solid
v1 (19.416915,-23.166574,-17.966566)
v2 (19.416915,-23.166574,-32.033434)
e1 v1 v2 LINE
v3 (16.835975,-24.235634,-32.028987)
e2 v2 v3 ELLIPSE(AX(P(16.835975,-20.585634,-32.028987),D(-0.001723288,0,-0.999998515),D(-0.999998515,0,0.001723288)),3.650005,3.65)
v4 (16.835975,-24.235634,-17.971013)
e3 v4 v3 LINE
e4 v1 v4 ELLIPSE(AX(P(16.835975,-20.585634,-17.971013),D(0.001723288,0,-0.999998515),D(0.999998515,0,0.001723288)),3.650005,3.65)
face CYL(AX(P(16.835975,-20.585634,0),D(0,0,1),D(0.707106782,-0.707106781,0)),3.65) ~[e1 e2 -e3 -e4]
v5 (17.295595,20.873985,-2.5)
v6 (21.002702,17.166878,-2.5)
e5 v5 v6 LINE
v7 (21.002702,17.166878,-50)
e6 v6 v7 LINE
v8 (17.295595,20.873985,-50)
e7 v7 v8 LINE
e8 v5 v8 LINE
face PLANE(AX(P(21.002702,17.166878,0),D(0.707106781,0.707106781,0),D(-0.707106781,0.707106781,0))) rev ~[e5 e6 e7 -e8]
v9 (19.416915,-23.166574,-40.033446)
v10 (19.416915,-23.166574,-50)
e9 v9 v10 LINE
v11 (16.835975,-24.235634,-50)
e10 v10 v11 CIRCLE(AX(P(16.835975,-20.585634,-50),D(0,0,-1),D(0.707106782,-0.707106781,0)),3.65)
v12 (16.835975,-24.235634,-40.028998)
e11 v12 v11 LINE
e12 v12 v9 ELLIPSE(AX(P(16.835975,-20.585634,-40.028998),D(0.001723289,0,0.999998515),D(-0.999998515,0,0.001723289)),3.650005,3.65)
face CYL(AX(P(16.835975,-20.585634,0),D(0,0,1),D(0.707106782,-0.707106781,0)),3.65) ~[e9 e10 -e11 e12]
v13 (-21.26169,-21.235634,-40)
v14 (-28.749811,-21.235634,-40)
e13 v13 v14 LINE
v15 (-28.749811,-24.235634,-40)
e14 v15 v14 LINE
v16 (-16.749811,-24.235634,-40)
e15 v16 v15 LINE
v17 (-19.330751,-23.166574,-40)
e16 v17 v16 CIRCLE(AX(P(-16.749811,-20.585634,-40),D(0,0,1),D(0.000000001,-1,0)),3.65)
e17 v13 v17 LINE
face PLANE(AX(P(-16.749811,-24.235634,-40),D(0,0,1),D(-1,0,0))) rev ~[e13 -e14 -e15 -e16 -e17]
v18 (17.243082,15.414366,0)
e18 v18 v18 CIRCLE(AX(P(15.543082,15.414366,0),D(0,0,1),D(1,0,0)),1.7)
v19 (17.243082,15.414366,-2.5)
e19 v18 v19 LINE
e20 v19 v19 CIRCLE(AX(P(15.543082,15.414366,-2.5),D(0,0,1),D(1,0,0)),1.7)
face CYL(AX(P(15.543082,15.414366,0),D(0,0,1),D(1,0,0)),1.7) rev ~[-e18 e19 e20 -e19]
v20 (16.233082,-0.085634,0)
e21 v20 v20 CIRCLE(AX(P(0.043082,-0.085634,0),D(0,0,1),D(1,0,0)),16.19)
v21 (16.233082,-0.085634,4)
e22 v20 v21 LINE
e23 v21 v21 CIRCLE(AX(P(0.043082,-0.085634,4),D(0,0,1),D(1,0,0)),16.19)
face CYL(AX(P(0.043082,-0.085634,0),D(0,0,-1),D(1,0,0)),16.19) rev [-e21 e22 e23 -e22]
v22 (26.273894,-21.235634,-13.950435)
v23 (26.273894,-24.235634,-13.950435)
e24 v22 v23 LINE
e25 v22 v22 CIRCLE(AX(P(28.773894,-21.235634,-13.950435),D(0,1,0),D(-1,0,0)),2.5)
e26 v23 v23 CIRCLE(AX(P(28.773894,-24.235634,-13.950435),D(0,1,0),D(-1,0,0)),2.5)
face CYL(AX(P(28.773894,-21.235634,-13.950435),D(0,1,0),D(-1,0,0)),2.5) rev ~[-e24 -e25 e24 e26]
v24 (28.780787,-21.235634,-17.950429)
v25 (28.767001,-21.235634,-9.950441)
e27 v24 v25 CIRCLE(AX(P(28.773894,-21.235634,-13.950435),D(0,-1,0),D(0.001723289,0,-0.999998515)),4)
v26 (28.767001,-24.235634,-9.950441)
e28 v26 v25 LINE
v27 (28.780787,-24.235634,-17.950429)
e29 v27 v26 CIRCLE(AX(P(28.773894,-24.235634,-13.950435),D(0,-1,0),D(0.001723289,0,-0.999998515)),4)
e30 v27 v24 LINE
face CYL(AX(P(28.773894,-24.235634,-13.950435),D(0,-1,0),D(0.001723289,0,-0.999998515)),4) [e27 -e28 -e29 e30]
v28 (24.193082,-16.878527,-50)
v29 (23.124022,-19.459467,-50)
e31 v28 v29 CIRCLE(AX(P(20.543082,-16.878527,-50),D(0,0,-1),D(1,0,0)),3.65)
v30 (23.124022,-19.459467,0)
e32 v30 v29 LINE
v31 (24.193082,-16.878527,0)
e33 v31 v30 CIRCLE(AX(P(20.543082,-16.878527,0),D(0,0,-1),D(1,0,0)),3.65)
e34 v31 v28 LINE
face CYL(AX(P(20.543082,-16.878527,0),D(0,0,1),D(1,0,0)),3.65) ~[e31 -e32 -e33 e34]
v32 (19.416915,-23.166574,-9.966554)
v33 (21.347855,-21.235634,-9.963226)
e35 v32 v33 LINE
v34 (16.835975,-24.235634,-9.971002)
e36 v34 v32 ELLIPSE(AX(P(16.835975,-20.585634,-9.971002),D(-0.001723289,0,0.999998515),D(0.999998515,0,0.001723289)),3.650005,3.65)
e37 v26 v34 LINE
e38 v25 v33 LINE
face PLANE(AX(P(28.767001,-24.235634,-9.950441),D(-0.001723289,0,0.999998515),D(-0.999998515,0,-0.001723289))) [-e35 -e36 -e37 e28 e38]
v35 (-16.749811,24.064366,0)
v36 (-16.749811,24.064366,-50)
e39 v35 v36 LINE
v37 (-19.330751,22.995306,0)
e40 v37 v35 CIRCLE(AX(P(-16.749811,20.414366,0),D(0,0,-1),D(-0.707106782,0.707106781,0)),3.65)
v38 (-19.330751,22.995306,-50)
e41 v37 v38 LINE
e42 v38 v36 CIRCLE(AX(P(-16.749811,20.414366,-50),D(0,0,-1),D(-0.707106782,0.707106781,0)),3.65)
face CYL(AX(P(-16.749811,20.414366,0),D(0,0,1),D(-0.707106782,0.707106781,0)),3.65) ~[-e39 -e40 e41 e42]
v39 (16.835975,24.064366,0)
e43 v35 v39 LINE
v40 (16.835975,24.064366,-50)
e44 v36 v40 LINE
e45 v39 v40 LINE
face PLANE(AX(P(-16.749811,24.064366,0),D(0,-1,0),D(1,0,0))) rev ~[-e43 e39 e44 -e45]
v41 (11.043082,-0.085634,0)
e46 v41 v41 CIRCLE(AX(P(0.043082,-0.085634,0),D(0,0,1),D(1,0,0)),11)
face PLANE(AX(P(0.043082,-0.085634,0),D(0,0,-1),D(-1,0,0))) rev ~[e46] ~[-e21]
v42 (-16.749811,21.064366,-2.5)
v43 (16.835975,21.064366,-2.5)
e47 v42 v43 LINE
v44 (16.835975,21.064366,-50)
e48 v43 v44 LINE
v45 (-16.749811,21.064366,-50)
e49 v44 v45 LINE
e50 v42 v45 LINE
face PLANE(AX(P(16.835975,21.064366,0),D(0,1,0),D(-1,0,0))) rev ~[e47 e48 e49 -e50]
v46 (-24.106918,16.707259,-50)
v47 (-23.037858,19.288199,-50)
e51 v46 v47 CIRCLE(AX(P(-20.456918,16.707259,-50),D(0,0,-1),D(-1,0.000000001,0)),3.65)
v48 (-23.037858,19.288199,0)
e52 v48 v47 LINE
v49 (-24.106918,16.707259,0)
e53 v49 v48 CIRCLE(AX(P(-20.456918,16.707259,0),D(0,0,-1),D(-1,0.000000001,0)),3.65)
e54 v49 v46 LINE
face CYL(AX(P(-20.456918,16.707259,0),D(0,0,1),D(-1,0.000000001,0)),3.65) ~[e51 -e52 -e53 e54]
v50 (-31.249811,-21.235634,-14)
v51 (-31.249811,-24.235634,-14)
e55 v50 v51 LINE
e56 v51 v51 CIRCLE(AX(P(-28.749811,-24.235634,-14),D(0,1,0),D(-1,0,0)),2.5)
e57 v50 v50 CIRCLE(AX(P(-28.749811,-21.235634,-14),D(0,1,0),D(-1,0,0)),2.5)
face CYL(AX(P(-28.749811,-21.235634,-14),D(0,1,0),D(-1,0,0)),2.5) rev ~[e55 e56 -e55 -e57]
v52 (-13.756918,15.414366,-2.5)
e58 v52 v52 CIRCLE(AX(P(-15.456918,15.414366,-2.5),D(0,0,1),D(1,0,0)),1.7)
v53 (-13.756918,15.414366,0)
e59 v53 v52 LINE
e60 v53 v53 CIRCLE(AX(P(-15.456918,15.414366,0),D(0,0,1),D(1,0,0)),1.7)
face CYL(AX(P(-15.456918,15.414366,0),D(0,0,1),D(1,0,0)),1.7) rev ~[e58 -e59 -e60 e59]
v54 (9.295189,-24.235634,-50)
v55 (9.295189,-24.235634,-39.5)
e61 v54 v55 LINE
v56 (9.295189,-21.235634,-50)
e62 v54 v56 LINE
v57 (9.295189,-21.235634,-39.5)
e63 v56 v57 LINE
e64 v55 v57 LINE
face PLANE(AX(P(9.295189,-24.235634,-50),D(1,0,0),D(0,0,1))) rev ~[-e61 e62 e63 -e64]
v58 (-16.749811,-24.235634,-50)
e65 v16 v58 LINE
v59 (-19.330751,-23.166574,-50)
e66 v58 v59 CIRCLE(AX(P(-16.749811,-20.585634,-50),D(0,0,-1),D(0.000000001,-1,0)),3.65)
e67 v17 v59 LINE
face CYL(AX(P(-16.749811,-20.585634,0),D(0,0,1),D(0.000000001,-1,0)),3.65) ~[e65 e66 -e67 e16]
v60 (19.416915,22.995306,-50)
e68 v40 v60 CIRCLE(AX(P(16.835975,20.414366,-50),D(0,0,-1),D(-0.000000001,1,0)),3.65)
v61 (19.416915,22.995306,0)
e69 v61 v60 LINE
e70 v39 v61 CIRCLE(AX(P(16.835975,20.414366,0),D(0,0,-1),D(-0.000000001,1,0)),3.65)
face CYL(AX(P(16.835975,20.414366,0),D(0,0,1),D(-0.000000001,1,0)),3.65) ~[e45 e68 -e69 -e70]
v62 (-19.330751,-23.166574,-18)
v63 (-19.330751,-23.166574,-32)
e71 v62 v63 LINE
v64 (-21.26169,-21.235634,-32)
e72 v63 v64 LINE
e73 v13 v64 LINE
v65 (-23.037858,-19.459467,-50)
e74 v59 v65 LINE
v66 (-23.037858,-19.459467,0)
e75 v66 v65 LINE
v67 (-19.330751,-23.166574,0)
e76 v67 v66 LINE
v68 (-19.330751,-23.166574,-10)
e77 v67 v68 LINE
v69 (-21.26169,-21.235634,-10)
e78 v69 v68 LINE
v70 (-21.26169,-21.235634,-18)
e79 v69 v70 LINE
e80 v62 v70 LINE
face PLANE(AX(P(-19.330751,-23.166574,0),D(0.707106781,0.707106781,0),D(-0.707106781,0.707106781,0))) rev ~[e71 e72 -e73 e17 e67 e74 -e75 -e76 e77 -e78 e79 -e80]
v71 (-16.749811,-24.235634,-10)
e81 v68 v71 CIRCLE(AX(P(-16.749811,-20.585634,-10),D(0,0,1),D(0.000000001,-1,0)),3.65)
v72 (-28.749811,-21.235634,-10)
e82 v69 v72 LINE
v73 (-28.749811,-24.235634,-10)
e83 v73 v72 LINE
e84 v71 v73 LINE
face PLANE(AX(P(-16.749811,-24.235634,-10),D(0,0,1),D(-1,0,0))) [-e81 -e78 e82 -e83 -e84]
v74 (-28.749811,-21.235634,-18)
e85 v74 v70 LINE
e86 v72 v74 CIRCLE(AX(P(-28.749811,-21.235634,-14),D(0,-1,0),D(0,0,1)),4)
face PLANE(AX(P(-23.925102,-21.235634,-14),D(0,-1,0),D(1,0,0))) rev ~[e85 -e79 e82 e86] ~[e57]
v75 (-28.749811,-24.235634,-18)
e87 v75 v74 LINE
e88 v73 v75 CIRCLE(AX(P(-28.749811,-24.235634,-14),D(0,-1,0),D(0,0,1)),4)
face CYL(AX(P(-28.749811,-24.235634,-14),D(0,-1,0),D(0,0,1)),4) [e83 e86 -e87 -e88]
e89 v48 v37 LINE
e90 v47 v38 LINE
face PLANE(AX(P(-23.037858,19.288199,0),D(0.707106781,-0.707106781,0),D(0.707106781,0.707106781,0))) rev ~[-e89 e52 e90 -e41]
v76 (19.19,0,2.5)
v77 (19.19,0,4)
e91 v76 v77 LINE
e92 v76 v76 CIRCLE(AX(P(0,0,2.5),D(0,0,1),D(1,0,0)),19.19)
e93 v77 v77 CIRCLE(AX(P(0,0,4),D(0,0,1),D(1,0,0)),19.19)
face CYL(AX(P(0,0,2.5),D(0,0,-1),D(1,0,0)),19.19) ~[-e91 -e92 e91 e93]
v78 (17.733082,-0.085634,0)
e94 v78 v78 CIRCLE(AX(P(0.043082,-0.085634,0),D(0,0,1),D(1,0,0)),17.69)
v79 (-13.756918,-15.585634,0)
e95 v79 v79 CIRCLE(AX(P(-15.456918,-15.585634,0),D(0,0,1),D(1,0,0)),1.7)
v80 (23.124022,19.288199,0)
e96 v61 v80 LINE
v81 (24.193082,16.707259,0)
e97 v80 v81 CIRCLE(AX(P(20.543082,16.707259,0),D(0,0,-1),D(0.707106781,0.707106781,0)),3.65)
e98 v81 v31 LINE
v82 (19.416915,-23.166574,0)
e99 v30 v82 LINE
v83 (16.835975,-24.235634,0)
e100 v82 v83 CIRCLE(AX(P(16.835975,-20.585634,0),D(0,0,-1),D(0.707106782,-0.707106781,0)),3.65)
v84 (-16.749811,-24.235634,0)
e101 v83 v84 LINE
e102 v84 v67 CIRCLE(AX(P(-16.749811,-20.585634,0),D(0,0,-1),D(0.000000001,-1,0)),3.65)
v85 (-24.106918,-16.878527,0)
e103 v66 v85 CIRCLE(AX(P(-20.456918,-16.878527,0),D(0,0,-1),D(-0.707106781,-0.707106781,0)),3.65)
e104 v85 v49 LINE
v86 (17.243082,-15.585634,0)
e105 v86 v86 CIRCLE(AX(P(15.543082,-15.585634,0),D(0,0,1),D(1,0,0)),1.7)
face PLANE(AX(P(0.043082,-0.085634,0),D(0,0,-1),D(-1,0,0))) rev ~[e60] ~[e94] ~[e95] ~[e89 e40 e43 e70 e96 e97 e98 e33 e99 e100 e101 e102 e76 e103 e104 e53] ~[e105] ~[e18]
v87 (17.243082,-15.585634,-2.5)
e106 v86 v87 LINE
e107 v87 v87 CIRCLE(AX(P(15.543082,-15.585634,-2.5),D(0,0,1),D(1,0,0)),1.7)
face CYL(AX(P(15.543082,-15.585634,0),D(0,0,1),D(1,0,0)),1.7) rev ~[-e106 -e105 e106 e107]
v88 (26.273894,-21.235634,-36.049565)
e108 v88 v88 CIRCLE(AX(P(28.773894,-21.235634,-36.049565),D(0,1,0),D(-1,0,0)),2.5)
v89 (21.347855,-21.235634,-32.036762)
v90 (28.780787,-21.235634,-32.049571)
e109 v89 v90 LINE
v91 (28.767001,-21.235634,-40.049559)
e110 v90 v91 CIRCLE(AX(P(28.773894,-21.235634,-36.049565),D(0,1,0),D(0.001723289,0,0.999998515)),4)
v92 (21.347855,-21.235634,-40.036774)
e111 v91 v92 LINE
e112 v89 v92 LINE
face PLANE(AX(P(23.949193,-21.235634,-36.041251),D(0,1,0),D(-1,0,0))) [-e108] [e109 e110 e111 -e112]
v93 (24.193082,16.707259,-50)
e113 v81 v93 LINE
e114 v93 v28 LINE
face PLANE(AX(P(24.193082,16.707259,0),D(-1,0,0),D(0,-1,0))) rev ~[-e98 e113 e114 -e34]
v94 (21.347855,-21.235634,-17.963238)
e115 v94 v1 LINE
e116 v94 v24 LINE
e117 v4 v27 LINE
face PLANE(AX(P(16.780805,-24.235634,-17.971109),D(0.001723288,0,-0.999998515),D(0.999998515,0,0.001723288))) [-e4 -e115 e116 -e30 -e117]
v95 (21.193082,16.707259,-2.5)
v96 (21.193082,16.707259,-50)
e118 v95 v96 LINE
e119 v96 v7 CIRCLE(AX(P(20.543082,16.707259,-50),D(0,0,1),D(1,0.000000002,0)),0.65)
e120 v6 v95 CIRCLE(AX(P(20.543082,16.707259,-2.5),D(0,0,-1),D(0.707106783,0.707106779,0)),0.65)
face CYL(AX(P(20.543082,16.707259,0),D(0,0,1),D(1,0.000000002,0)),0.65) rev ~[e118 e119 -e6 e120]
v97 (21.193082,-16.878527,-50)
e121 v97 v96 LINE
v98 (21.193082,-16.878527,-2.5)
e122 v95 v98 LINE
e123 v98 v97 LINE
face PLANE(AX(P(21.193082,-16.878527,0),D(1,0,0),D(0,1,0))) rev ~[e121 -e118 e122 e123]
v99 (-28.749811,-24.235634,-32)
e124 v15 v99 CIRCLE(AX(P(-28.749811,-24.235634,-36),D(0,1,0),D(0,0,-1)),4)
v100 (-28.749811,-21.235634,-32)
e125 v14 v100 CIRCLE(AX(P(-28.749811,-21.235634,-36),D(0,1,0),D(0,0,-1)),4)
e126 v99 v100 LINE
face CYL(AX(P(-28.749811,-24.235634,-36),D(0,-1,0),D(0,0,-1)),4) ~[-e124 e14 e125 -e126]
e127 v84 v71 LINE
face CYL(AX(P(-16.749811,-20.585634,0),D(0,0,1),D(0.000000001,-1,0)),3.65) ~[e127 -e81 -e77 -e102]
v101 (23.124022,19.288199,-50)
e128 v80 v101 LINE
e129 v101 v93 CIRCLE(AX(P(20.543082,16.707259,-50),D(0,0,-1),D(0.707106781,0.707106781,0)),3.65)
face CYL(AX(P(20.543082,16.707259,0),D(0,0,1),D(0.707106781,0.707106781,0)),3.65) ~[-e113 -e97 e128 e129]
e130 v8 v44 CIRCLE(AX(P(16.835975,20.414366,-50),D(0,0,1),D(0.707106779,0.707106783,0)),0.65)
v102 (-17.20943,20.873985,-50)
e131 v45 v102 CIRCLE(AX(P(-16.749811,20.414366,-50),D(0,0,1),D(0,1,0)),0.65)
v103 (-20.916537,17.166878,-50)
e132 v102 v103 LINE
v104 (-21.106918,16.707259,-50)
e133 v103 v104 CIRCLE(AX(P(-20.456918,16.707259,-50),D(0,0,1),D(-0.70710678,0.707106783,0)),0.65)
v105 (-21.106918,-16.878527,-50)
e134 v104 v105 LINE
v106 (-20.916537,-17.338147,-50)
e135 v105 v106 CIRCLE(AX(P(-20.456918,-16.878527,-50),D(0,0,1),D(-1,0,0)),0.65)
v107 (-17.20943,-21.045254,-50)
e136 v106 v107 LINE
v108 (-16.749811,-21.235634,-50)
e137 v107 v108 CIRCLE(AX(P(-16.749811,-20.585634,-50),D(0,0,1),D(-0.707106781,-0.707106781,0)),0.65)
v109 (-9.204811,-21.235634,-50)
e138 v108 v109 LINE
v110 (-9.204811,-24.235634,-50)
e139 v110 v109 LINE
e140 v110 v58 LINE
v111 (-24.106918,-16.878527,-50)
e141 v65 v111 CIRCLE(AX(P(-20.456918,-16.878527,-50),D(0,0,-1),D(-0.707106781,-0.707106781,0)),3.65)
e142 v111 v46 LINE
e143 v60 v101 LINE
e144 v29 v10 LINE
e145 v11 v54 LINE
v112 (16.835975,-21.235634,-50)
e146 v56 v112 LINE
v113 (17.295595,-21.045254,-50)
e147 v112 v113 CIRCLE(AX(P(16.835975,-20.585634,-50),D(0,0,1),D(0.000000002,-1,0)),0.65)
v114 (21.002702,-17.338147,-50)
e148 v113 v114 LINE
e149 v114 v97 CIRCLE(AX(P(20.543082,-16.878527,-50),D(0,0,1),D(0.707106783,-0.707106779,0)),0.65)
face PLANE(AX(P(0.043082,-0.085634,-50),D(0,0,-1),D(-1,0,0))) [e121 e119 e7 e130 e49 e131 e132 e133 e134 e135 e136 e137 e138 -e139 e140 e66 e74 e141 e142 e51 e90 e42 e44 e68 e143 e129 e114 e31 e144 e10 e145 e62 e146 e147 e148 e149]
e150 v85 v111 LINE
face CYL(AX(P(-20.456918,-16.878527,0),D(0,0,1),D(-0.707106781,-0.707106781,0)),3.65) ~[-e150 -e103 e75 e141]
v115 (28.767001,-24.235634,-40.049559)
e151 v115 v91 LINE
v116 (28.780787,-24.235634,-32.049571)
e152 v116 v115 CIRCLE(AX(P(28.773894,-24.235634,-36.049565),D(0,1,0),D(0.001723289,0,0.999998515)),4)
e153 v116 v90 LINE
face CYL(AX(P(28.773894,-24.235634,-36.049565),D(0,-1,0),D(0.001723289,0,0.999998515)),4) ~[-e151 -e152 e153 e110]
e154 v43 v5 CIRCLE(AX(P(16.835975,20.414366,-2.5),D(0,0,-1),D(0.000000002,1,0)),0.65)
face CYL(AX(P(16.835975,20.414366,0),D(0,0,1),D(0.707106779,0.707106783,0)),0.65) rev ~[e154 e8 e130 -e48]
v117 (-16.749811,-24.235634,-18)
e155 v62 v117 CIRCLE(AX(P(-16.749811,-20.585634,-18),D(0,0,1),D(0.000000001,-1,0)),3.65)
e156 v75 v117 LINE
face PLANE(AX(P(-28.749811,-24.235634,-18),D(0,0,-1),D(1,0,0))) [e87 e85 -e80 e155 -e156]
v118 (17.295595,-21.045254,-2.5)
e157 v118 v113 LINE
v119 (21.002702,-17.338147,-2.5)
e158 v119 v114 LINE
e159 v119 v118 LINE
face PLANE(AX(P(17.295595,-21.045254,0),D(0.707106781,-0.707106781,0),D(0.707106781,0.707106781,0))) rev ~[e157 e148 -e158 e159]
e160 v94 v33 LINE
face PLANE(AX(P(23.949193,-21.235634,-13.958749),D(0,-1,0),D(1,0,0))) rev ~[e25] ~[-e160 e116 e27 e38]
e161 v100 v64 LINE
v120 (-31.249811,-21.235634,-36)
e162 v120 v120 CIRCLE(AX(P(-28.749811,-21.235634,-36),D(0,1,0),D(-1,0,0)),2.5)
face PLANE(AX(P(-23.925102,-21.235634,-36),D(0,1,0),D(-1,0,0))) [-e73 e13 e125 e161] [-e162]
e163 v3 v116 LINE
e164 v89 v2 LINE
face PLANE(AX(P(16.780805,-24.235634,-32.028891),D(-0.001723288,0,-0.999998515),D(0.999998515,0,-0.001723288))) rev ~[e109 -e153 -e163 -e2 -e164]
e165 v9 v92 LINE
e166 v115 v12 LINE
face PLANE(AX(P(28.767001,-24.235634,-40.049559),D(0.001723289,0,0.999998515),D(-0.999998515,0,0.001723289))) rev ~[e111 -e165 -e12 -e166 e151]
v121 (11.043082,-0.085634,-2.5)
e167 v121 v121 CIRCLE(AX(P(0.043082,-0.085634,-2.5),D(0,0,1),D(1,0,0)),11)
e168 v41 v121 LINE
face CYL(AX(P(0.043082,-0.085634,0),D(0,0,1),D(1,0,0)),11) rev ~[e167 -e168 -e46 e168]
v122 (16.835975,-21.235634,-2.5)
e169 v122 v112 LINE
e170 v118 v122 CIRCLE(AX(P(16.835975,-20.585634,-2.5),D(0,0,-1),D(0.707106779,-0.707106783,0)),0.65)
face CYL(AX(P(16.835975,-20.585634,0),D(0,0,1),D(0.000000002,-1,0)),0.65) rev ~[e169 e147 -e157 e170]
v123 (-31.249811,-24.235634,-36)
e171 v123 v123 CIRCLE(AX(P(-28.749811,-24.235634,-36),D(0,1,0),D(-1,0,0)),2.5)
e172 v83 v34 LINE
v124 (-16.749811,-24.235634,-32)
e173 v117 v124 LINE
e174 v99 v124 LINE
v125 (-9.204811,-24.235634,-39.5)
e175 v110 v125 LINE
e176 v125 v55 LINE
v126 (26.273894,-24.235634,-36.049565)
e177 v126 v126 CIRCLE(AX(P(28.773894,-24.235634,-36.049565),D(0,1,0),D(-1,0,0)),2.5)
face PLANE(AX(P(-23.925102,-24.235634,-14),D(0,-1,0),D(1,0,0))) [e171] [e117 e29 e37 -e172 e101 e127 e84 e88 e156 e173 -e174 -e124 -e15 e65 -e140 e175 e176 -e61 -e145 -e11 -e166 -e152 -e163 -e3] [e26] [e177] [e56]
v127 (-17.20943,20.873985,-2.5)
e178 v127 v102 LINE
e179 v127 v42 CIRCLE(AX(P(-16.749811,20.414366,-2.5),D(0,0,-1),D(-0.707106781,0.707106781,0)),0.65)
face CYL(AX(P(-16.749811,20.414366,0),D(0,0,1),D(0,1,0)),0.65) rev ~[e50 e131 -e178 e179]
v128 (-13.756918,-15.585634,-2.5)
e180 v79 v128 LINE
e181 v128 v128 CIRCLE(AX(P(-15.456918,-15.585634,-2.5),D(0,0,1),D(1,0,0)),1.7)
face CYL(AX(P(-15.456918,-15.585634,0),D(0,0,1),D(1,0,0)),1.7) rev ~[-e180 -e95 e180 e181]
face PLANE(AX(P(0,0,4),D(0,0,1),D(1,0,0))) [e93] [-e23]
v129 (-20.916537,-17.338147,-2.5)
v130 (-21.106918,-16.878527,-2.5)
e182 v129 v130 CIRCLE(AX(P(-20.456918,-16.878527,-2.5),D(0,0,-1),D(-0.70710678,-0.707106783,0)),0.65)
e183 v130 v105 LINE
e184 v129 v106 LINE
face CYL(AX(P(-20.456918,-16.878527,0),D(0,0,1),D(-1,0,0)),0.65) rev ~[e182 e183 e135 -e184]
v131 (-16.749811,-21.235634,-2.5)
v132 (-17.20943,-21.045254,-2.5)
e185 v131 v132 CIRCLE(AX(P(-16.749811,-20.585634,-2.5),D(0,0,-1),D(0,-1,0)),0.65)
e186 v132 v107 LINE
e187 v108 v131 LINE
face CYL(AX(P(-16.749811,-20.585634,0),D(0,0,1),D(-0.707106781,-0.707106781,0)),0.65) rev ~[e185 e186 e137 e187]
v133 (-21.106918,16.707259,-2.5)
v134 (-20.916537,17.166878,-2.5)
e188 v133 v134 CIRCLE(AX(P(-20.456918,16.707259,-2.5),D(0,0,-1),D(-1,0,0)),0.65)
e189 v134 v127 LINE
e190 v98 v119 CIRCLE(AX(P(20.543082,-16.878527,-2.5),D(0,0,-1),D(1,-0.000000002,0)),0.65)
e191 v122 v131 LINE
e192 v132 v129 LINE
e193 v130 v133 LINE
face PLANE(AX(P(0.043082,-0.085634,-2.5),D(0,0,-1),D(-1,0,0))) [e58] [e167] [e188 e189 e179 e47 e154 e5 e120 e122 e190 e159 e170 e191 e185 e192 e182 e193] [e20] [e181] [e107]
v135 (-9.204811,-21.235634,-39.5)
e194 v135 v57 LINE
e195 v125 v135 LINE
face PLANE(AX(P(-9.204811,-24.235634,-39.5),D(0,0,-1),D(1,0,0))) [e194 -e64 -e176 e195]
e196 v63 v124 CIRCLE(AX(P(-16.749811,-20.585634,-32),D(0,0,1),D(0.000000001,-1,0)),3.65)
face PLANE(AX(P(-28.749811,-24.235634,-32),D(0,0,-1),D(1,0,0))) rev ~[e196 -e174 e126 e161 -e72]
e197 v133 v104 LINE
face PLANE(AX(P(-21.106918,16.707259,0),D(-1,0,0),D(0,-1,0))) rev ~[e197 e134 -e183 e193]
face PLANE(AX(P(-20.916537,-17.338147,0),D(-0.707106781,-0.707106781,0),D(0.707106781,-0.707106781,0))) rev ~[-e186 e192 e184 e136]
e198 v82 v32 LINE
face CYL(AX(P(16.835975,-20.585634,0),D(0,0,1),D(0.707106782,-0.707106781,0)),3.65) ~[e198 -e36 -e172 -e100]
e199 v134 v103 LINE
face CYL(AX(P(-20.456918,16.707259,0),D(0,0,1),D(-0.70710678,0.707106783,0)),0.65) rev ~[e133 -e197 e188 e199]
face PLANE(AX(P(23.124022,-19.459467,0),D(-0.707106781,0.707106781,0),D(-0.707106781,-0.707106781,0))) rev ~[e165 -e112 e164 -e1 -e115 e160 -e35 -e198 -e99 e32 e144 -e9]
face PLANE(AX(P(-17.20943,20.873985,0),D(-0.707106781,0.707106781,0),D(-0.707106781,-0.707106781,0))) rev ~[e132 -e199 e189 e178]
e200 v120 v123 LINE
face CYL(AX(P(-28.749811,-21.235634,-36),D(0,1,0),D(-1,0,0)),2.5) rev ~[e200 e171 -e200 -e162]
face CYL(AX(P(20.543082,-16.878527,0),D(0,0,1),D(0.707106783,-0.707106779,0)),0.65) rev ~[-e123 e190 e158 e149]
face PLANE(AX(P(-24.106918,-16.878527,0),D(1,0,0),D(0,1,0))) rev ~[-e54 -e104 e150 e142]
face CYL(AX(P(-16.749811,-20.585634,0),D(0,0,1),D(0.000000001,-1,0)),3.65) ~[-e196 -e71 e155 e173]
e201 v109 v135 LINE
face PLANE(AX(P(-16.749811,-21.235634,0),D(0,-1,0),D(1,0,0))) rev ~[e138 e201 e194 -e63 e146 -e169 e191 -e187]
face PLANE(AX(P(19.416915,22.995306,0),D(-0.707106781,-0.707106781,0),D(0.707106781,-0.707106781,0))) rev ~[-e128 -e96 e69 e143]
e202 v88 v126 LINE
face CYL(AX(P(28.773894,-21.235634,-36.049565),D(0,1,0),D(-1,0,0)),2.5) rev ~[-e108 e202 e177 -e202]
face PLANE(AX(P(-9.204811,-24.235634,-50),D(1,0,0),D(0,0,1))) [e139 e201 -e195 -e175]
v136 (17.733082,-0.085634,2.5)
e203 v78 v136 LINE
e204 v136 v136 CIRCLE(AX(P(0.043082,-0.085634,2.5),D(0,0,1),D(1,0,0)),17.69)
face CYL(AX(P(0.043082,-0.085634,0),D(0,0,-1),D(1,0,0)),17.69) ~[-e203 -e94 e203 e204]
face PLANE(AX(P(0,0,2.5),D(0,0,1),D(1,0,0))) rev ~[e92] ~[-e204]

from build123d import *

# Parameters (mm, degrees)
SALIENTE_EXTRUIR3_DEPTH = 50
CROQUIS37_3_R           = 1.7
CROQUIS37_3_R_2         = 11
SALIENTE_EXTRUIR4_DEPTH = 2.5
CROQUIS38_R             = 17.69
CROQUIS38_R_2           = 16.19
SALIENTE_EXTRUIR5_DEPTH = 4
SALIENTE_EXTRUIR6_START = -1.5
CROQUIS40_R             = 19.19
CROQUIS40_R_2           = 17.69
SALIENTE_EXTRUIR6_DEPTH = 1.5
CROQUIS41_W             = 18.5
CROQUIS41_H             = 10.5
CORTAR_EXTRUIR1_DEPTH   = 11.5
SALIENTE_EXTRUIR7_DEPTH = 3
CROQUIS44_R             = 2.5
CORTAR_EXTRUIR2_DEPTH   = 3


with BuildPart() as part:
    # Croquis37 → Saliente-Extruir3 (new body)
    with BuildSketch(Plane.XY):
        with BuildLine():
            Line((-24.106917755, 16.707259035), (-24.106917755, -16.878527403))
            ThreePointArc((-24.106917755, -16.878527403), (-23.829078048, -18.275321931), (-23.037857506, -19.459467154))
            Line((-23.037857506, -19.459467154), (-19.330750725, -23.166573935))
            ThreePointArc((-19.330750725, -23.166573935), (-18.146605502, -23.957794478), (-16.749810974, -24.235634184))
            Line((-16.749810974, -24.235634184), (16.835975464, -24.235634184))
            ThreePointArc((16.835975464, -24.235634184), (18.232769992, -23.957794478), (19.416915215, -23.166573935))
            Line((19.416915215, -23.166573935), (23.124021997, -19.459467154))
            ThreePointArc((23.124021997, -19.459467154), (23.915242539, -18.275321931), (24.193082245, -16.878527403))
            Line((24.193082245, -16.878527403), (24.193082245, 16.707259035))
            ThreePointArc((24.193082245, 16.707259035), (23.915242539, 18.104053563), (23.124021997, 19.288198786))
            Line((23.124021997, 19.288198786), (19.416915215, 22.995305567))
            ThreePointArc((19.416915215, 22.995305567), (18.232769992, 23.78652611), (16.835975464, 24.064365816))
            Line((16.835975464, 24.064365816), (-16.749810974, 24.064365816))
            ThreePointArc((-16.749810974, 24.064365816), (-18.146605502, 23.78652611), (-19.330750725, 22.995305567))
            Line((-19.330750725, 22.995305567), (-23.037857506, 19.288198786))
            ThreePointArc((-23.037857506, 19.288198786), (-23.829078048, 18.104053563), (-24.106917755, 16.707259035))
        make_face()
        with BuildLine():
            ThreePointArc((17.295594872, -21.045253592), (17.084719695, -21.18615588), (16.835975464, -21.235634184))
            Line((16.835975464, -21.235634184), (-16.749810974, -21.235634184))
            ThreePointArc((-16.749810974, -21.235634184), (-16.998555205, -21.18615588), (-17.209430381, -21.045253592))
            Line((-17.209430381, -21.045253592), (-20.916537162, -17.338146811))
            ThreePointArc((-20.916537162, -17.338146811), (-21.057439451, -17.127271634), (-21.106917755, -16.878527403))
            Line((-21.106917755, -16.878527403), (-21.106917755, 16.707259035))
            ThreePointArc((-21.106917755, 16.707259035), (-21.057439451, 16.956003266), (-20.916537162, 17.166878443))
            Line((-20.916537162, 17.166878443), (-17.209430381, 20.873985224))
            ThreePointArc((-17.209430381, 20.873985224), (-16.998555205, 21.014887512), (-16.749810974, 21.064365816))
            Line((-16.749810974, 21.064365816), (16.835975464, 21.064365816))
            ThreePointArc((16.835975464, 21.064365816), (17.084719695, 21.014887512), (17.295594872, 20.873985224))
            Line((17.295594872, 20.873985224), (21.002701653, 17.166878443))
            ThreePointArc((21.002701653, 17.166878443), (21.143603941, 16.956003266), (21.193082245, 16.707259035))
            Line((21.193082245, 16.707259035), (21.193082245, -16.878527403))
            ThreePointArc((21.193082245, -16.878527403), (21.143603941, -17.127271634), (21.002701653, -17.338146811))
            Line((21.002701653, -17.338146811), (17.295594872, -21.045253592))
        make_face(mode=Mode.SUBTRACT)
    extrude(amount=-SALIENTE_EXTRUIR3_DEPTH)



with BuildPart() as body_2:
    # Croquis37<3> → Saliente-Extruir4 (new body)
    with BuildSketch(Plane.XY):
        with BuildLine():
            Line((-16.749810974, -21.235634184), (16.835975464, -21.235634184))
            ThreePointArc((16.835975464, -21.235634184), (17.084719695, -21.18615588), (17.295594872, -21.045253592))
            Line((17.295594872, -21.045253592), (21.002701653, -17.338146811))
            ThreePointArc((21.002701653, -17.338146811), (21.143603941, -17.127271634), (21.193082245, -16.878527403))
            Line((21.193082245, -16.878527403), (21.193082245, 16.707259035))
            ThreePointArc((21.193082245, 16.707259035), (21.143603941, 16.956003266), (21.002701653, 17.166878443))
            Line((21.002701653, 17.166878443), (17.295594872, 20.873985224))
            ThreePointArc((17.295594872, 20.873985224), (17.084719695, 21.014887512), (16.835975464, 21.064365816))
            Line((16.835975464, 21.064365816), (-16.749810974, 21.064365816))
            ThreePointArc((-16.749810974, 21.064365816), (-16.998555205, 21.014887512), (-17.209430381, 20.873985224))
            Line((-17.209430381, 20.873985224), (-20.916537162, 17.166878443))
            ThreePointArc((-20.916537162, 17.166878443), (-21.057439451, 16.956003266), (-21.106917755, 16.707259035))
            Line((-21.106917755, 16.707259035), (-21.106917755, -16.878527403))
            ThreePointArc((-21.106917755, -16.878527403), (-21.057439451, -17.127271634), (-20.916537162, -17.338146811))
            Line((-20.916537162, -17.338146811), (-17.209430381, -21.045253592))
            ThreePointArc((-17.209430381, -21.045253592), (-16.998555205, -21.18615588), (-16.749810974, -21.235634184))
        make_face()
        with Locations((-15.456917755, -15.585634184)):
            Circle(CROQUIS37_3_R, mode=Mode.SUBTRACT)
        with Locations((15.543082245, -15.585634184)):
            Circle(CROQUIS37_3_R, mode=Mode.SUBTRACT)
        with Locations((-15.456917755, 15.414365816)):
            Circle(CROQUIS37_3_R, mode=Mode.SUBTRACT)
        with Locations((0.043082245, -0.085634184)):
            Circle(CROQUIS37_3_R_2, mode=Mode.SUBTRACT)
        with Locations((15.543082245, 15.414365816)):
            Circle(CROQUIS37_3_R, mode=Mode.SUBTRACT)
    extrude(amount=-SALIENTE_EXTRUIR4_DEPTH)


with BuildPart() as part_1:
    add(part.part)

    add(body_2.part)  # Saliente-Extruir5 merges body 2
    # Croquis38 → Saliente-Extruir5 (add)
    with BuildSketch(Plane.XY):
        with Locations((0.043082245, -0.085634184)):
            Circle(CROQUIS38_R)
        with Locations((0.043082245, -0.085634184)):
            Circle(CROQUIS38_R_2, mode=Mode.SUBTRACT)
    extrude(amount=SALIENTE_EXTRUIR5_DEPTH)

    # Croquis40 → Saliente-Extruir6 (add)
    with BuildSketch(Plane.XY.offset(4).offset(SALIENTE_EXTRUIR6_START)):
        Circle(CROQUIS40_R)
        with Locations((0.043082245, -0.085634184)):
            Circle(CROQUIS40_R_2, mode=Mode.SUBTRACT)
    extrude(amount=SALIENTE_EXTRUIR6_DEPTH)

    # Croquis41 → Cortar-Extruir1 (cut)
    with BuildSketch(Plane.XZ.offset(24.235634184)):
        with Locations((0.045189026, -44.75)):
            Rectangle(CROQUIS41_W, CROQUIS41_H)
    extrude(amount=-CORTAR_EXTRUIR1_DEPTH, mode=Mode.SUBTRACT)

    # Croquis42 → Saliente-Extruir7 (add)
    with BuildSketch(Plane.XZ.offset(24.235634184)):
        with BuildLine():
            Line((-16.749810974, -10), (-28.749810974, -10))
            ThreePointArc((-28.749810974, -10), (-32.749810974, -14), (-28.749810974, -18))
            Line((-28.749810974, -18), (-16.749810974, -18))
            Line((-16.749810974, -18), (-16.749810974, -10))
        make_face()
        with BuildLine():
            Line((16.767018988, -9.971120394), (16.780805296, -17.971108515))
            Line((16.780805296, -17.971108515), (28.780787478, -17.950429053))
            ThreePointArc((28.780787478, -17.950429053), (32.773888384, -13.943541838), (28.767001169, -9.950440932))
            Line((28.767001169, -9.950440932), (16.767018988, -9.971120394))
        make_face()
        with BuildLine():
            Line((-16.749810974, -40), (-28.749810974, -40))
            ThreePointArc((-28.749810974, -40), (-32.749810974, -36), (-28.749810974, -32))
            Line((-28.749810974, -32), (-16.749810974, -32))
            Line((-16.749810974, -32), (-16.749810974, -40))
        make_face()
        with BuildLine():
            Line((16.767018988, -40.028879606), (16.780805296, -32.028891485))
            Line((16.780805296, -32.028891485), (28.780787478, -32.049570947))
            ThreePointArc((28.780787478, -32.049570947), (32.773888384, -36.056458162), (28.767001169, -40.049559068))
            Line((28.767001169, -40.049559068), (16.767018988, -40.028879606))
        make_face()
    extrude(amount=-SALIENTE_EXTRUIR7_DEPTH)

    # Croquis44 → Cortar-Extruir2 (cut)
    with BuildSketch(Plane(origin=(0, -21.235634184, 0), x_dir=(1, 0, 0), z_dir=(0, 1, 0))):
        with Locations((-28.749810974, 36)):
            Circle(CROQUIS44_R)
        with Locations((28.773894323, 36.049565008)):
            Circle(CROQUIS44_R)
        with Locations((28.773894323, 13.950434992)):
            Circle(CROQUIS44_R)
        with Locations((-28.749810974, 14)):
            Circle(CROQUIS44_R)
    extrude(amount=-CORTAR_EXTRUIR2_DEPTH, mode=Mode.SUBTRACT)


solid = part_1.part
